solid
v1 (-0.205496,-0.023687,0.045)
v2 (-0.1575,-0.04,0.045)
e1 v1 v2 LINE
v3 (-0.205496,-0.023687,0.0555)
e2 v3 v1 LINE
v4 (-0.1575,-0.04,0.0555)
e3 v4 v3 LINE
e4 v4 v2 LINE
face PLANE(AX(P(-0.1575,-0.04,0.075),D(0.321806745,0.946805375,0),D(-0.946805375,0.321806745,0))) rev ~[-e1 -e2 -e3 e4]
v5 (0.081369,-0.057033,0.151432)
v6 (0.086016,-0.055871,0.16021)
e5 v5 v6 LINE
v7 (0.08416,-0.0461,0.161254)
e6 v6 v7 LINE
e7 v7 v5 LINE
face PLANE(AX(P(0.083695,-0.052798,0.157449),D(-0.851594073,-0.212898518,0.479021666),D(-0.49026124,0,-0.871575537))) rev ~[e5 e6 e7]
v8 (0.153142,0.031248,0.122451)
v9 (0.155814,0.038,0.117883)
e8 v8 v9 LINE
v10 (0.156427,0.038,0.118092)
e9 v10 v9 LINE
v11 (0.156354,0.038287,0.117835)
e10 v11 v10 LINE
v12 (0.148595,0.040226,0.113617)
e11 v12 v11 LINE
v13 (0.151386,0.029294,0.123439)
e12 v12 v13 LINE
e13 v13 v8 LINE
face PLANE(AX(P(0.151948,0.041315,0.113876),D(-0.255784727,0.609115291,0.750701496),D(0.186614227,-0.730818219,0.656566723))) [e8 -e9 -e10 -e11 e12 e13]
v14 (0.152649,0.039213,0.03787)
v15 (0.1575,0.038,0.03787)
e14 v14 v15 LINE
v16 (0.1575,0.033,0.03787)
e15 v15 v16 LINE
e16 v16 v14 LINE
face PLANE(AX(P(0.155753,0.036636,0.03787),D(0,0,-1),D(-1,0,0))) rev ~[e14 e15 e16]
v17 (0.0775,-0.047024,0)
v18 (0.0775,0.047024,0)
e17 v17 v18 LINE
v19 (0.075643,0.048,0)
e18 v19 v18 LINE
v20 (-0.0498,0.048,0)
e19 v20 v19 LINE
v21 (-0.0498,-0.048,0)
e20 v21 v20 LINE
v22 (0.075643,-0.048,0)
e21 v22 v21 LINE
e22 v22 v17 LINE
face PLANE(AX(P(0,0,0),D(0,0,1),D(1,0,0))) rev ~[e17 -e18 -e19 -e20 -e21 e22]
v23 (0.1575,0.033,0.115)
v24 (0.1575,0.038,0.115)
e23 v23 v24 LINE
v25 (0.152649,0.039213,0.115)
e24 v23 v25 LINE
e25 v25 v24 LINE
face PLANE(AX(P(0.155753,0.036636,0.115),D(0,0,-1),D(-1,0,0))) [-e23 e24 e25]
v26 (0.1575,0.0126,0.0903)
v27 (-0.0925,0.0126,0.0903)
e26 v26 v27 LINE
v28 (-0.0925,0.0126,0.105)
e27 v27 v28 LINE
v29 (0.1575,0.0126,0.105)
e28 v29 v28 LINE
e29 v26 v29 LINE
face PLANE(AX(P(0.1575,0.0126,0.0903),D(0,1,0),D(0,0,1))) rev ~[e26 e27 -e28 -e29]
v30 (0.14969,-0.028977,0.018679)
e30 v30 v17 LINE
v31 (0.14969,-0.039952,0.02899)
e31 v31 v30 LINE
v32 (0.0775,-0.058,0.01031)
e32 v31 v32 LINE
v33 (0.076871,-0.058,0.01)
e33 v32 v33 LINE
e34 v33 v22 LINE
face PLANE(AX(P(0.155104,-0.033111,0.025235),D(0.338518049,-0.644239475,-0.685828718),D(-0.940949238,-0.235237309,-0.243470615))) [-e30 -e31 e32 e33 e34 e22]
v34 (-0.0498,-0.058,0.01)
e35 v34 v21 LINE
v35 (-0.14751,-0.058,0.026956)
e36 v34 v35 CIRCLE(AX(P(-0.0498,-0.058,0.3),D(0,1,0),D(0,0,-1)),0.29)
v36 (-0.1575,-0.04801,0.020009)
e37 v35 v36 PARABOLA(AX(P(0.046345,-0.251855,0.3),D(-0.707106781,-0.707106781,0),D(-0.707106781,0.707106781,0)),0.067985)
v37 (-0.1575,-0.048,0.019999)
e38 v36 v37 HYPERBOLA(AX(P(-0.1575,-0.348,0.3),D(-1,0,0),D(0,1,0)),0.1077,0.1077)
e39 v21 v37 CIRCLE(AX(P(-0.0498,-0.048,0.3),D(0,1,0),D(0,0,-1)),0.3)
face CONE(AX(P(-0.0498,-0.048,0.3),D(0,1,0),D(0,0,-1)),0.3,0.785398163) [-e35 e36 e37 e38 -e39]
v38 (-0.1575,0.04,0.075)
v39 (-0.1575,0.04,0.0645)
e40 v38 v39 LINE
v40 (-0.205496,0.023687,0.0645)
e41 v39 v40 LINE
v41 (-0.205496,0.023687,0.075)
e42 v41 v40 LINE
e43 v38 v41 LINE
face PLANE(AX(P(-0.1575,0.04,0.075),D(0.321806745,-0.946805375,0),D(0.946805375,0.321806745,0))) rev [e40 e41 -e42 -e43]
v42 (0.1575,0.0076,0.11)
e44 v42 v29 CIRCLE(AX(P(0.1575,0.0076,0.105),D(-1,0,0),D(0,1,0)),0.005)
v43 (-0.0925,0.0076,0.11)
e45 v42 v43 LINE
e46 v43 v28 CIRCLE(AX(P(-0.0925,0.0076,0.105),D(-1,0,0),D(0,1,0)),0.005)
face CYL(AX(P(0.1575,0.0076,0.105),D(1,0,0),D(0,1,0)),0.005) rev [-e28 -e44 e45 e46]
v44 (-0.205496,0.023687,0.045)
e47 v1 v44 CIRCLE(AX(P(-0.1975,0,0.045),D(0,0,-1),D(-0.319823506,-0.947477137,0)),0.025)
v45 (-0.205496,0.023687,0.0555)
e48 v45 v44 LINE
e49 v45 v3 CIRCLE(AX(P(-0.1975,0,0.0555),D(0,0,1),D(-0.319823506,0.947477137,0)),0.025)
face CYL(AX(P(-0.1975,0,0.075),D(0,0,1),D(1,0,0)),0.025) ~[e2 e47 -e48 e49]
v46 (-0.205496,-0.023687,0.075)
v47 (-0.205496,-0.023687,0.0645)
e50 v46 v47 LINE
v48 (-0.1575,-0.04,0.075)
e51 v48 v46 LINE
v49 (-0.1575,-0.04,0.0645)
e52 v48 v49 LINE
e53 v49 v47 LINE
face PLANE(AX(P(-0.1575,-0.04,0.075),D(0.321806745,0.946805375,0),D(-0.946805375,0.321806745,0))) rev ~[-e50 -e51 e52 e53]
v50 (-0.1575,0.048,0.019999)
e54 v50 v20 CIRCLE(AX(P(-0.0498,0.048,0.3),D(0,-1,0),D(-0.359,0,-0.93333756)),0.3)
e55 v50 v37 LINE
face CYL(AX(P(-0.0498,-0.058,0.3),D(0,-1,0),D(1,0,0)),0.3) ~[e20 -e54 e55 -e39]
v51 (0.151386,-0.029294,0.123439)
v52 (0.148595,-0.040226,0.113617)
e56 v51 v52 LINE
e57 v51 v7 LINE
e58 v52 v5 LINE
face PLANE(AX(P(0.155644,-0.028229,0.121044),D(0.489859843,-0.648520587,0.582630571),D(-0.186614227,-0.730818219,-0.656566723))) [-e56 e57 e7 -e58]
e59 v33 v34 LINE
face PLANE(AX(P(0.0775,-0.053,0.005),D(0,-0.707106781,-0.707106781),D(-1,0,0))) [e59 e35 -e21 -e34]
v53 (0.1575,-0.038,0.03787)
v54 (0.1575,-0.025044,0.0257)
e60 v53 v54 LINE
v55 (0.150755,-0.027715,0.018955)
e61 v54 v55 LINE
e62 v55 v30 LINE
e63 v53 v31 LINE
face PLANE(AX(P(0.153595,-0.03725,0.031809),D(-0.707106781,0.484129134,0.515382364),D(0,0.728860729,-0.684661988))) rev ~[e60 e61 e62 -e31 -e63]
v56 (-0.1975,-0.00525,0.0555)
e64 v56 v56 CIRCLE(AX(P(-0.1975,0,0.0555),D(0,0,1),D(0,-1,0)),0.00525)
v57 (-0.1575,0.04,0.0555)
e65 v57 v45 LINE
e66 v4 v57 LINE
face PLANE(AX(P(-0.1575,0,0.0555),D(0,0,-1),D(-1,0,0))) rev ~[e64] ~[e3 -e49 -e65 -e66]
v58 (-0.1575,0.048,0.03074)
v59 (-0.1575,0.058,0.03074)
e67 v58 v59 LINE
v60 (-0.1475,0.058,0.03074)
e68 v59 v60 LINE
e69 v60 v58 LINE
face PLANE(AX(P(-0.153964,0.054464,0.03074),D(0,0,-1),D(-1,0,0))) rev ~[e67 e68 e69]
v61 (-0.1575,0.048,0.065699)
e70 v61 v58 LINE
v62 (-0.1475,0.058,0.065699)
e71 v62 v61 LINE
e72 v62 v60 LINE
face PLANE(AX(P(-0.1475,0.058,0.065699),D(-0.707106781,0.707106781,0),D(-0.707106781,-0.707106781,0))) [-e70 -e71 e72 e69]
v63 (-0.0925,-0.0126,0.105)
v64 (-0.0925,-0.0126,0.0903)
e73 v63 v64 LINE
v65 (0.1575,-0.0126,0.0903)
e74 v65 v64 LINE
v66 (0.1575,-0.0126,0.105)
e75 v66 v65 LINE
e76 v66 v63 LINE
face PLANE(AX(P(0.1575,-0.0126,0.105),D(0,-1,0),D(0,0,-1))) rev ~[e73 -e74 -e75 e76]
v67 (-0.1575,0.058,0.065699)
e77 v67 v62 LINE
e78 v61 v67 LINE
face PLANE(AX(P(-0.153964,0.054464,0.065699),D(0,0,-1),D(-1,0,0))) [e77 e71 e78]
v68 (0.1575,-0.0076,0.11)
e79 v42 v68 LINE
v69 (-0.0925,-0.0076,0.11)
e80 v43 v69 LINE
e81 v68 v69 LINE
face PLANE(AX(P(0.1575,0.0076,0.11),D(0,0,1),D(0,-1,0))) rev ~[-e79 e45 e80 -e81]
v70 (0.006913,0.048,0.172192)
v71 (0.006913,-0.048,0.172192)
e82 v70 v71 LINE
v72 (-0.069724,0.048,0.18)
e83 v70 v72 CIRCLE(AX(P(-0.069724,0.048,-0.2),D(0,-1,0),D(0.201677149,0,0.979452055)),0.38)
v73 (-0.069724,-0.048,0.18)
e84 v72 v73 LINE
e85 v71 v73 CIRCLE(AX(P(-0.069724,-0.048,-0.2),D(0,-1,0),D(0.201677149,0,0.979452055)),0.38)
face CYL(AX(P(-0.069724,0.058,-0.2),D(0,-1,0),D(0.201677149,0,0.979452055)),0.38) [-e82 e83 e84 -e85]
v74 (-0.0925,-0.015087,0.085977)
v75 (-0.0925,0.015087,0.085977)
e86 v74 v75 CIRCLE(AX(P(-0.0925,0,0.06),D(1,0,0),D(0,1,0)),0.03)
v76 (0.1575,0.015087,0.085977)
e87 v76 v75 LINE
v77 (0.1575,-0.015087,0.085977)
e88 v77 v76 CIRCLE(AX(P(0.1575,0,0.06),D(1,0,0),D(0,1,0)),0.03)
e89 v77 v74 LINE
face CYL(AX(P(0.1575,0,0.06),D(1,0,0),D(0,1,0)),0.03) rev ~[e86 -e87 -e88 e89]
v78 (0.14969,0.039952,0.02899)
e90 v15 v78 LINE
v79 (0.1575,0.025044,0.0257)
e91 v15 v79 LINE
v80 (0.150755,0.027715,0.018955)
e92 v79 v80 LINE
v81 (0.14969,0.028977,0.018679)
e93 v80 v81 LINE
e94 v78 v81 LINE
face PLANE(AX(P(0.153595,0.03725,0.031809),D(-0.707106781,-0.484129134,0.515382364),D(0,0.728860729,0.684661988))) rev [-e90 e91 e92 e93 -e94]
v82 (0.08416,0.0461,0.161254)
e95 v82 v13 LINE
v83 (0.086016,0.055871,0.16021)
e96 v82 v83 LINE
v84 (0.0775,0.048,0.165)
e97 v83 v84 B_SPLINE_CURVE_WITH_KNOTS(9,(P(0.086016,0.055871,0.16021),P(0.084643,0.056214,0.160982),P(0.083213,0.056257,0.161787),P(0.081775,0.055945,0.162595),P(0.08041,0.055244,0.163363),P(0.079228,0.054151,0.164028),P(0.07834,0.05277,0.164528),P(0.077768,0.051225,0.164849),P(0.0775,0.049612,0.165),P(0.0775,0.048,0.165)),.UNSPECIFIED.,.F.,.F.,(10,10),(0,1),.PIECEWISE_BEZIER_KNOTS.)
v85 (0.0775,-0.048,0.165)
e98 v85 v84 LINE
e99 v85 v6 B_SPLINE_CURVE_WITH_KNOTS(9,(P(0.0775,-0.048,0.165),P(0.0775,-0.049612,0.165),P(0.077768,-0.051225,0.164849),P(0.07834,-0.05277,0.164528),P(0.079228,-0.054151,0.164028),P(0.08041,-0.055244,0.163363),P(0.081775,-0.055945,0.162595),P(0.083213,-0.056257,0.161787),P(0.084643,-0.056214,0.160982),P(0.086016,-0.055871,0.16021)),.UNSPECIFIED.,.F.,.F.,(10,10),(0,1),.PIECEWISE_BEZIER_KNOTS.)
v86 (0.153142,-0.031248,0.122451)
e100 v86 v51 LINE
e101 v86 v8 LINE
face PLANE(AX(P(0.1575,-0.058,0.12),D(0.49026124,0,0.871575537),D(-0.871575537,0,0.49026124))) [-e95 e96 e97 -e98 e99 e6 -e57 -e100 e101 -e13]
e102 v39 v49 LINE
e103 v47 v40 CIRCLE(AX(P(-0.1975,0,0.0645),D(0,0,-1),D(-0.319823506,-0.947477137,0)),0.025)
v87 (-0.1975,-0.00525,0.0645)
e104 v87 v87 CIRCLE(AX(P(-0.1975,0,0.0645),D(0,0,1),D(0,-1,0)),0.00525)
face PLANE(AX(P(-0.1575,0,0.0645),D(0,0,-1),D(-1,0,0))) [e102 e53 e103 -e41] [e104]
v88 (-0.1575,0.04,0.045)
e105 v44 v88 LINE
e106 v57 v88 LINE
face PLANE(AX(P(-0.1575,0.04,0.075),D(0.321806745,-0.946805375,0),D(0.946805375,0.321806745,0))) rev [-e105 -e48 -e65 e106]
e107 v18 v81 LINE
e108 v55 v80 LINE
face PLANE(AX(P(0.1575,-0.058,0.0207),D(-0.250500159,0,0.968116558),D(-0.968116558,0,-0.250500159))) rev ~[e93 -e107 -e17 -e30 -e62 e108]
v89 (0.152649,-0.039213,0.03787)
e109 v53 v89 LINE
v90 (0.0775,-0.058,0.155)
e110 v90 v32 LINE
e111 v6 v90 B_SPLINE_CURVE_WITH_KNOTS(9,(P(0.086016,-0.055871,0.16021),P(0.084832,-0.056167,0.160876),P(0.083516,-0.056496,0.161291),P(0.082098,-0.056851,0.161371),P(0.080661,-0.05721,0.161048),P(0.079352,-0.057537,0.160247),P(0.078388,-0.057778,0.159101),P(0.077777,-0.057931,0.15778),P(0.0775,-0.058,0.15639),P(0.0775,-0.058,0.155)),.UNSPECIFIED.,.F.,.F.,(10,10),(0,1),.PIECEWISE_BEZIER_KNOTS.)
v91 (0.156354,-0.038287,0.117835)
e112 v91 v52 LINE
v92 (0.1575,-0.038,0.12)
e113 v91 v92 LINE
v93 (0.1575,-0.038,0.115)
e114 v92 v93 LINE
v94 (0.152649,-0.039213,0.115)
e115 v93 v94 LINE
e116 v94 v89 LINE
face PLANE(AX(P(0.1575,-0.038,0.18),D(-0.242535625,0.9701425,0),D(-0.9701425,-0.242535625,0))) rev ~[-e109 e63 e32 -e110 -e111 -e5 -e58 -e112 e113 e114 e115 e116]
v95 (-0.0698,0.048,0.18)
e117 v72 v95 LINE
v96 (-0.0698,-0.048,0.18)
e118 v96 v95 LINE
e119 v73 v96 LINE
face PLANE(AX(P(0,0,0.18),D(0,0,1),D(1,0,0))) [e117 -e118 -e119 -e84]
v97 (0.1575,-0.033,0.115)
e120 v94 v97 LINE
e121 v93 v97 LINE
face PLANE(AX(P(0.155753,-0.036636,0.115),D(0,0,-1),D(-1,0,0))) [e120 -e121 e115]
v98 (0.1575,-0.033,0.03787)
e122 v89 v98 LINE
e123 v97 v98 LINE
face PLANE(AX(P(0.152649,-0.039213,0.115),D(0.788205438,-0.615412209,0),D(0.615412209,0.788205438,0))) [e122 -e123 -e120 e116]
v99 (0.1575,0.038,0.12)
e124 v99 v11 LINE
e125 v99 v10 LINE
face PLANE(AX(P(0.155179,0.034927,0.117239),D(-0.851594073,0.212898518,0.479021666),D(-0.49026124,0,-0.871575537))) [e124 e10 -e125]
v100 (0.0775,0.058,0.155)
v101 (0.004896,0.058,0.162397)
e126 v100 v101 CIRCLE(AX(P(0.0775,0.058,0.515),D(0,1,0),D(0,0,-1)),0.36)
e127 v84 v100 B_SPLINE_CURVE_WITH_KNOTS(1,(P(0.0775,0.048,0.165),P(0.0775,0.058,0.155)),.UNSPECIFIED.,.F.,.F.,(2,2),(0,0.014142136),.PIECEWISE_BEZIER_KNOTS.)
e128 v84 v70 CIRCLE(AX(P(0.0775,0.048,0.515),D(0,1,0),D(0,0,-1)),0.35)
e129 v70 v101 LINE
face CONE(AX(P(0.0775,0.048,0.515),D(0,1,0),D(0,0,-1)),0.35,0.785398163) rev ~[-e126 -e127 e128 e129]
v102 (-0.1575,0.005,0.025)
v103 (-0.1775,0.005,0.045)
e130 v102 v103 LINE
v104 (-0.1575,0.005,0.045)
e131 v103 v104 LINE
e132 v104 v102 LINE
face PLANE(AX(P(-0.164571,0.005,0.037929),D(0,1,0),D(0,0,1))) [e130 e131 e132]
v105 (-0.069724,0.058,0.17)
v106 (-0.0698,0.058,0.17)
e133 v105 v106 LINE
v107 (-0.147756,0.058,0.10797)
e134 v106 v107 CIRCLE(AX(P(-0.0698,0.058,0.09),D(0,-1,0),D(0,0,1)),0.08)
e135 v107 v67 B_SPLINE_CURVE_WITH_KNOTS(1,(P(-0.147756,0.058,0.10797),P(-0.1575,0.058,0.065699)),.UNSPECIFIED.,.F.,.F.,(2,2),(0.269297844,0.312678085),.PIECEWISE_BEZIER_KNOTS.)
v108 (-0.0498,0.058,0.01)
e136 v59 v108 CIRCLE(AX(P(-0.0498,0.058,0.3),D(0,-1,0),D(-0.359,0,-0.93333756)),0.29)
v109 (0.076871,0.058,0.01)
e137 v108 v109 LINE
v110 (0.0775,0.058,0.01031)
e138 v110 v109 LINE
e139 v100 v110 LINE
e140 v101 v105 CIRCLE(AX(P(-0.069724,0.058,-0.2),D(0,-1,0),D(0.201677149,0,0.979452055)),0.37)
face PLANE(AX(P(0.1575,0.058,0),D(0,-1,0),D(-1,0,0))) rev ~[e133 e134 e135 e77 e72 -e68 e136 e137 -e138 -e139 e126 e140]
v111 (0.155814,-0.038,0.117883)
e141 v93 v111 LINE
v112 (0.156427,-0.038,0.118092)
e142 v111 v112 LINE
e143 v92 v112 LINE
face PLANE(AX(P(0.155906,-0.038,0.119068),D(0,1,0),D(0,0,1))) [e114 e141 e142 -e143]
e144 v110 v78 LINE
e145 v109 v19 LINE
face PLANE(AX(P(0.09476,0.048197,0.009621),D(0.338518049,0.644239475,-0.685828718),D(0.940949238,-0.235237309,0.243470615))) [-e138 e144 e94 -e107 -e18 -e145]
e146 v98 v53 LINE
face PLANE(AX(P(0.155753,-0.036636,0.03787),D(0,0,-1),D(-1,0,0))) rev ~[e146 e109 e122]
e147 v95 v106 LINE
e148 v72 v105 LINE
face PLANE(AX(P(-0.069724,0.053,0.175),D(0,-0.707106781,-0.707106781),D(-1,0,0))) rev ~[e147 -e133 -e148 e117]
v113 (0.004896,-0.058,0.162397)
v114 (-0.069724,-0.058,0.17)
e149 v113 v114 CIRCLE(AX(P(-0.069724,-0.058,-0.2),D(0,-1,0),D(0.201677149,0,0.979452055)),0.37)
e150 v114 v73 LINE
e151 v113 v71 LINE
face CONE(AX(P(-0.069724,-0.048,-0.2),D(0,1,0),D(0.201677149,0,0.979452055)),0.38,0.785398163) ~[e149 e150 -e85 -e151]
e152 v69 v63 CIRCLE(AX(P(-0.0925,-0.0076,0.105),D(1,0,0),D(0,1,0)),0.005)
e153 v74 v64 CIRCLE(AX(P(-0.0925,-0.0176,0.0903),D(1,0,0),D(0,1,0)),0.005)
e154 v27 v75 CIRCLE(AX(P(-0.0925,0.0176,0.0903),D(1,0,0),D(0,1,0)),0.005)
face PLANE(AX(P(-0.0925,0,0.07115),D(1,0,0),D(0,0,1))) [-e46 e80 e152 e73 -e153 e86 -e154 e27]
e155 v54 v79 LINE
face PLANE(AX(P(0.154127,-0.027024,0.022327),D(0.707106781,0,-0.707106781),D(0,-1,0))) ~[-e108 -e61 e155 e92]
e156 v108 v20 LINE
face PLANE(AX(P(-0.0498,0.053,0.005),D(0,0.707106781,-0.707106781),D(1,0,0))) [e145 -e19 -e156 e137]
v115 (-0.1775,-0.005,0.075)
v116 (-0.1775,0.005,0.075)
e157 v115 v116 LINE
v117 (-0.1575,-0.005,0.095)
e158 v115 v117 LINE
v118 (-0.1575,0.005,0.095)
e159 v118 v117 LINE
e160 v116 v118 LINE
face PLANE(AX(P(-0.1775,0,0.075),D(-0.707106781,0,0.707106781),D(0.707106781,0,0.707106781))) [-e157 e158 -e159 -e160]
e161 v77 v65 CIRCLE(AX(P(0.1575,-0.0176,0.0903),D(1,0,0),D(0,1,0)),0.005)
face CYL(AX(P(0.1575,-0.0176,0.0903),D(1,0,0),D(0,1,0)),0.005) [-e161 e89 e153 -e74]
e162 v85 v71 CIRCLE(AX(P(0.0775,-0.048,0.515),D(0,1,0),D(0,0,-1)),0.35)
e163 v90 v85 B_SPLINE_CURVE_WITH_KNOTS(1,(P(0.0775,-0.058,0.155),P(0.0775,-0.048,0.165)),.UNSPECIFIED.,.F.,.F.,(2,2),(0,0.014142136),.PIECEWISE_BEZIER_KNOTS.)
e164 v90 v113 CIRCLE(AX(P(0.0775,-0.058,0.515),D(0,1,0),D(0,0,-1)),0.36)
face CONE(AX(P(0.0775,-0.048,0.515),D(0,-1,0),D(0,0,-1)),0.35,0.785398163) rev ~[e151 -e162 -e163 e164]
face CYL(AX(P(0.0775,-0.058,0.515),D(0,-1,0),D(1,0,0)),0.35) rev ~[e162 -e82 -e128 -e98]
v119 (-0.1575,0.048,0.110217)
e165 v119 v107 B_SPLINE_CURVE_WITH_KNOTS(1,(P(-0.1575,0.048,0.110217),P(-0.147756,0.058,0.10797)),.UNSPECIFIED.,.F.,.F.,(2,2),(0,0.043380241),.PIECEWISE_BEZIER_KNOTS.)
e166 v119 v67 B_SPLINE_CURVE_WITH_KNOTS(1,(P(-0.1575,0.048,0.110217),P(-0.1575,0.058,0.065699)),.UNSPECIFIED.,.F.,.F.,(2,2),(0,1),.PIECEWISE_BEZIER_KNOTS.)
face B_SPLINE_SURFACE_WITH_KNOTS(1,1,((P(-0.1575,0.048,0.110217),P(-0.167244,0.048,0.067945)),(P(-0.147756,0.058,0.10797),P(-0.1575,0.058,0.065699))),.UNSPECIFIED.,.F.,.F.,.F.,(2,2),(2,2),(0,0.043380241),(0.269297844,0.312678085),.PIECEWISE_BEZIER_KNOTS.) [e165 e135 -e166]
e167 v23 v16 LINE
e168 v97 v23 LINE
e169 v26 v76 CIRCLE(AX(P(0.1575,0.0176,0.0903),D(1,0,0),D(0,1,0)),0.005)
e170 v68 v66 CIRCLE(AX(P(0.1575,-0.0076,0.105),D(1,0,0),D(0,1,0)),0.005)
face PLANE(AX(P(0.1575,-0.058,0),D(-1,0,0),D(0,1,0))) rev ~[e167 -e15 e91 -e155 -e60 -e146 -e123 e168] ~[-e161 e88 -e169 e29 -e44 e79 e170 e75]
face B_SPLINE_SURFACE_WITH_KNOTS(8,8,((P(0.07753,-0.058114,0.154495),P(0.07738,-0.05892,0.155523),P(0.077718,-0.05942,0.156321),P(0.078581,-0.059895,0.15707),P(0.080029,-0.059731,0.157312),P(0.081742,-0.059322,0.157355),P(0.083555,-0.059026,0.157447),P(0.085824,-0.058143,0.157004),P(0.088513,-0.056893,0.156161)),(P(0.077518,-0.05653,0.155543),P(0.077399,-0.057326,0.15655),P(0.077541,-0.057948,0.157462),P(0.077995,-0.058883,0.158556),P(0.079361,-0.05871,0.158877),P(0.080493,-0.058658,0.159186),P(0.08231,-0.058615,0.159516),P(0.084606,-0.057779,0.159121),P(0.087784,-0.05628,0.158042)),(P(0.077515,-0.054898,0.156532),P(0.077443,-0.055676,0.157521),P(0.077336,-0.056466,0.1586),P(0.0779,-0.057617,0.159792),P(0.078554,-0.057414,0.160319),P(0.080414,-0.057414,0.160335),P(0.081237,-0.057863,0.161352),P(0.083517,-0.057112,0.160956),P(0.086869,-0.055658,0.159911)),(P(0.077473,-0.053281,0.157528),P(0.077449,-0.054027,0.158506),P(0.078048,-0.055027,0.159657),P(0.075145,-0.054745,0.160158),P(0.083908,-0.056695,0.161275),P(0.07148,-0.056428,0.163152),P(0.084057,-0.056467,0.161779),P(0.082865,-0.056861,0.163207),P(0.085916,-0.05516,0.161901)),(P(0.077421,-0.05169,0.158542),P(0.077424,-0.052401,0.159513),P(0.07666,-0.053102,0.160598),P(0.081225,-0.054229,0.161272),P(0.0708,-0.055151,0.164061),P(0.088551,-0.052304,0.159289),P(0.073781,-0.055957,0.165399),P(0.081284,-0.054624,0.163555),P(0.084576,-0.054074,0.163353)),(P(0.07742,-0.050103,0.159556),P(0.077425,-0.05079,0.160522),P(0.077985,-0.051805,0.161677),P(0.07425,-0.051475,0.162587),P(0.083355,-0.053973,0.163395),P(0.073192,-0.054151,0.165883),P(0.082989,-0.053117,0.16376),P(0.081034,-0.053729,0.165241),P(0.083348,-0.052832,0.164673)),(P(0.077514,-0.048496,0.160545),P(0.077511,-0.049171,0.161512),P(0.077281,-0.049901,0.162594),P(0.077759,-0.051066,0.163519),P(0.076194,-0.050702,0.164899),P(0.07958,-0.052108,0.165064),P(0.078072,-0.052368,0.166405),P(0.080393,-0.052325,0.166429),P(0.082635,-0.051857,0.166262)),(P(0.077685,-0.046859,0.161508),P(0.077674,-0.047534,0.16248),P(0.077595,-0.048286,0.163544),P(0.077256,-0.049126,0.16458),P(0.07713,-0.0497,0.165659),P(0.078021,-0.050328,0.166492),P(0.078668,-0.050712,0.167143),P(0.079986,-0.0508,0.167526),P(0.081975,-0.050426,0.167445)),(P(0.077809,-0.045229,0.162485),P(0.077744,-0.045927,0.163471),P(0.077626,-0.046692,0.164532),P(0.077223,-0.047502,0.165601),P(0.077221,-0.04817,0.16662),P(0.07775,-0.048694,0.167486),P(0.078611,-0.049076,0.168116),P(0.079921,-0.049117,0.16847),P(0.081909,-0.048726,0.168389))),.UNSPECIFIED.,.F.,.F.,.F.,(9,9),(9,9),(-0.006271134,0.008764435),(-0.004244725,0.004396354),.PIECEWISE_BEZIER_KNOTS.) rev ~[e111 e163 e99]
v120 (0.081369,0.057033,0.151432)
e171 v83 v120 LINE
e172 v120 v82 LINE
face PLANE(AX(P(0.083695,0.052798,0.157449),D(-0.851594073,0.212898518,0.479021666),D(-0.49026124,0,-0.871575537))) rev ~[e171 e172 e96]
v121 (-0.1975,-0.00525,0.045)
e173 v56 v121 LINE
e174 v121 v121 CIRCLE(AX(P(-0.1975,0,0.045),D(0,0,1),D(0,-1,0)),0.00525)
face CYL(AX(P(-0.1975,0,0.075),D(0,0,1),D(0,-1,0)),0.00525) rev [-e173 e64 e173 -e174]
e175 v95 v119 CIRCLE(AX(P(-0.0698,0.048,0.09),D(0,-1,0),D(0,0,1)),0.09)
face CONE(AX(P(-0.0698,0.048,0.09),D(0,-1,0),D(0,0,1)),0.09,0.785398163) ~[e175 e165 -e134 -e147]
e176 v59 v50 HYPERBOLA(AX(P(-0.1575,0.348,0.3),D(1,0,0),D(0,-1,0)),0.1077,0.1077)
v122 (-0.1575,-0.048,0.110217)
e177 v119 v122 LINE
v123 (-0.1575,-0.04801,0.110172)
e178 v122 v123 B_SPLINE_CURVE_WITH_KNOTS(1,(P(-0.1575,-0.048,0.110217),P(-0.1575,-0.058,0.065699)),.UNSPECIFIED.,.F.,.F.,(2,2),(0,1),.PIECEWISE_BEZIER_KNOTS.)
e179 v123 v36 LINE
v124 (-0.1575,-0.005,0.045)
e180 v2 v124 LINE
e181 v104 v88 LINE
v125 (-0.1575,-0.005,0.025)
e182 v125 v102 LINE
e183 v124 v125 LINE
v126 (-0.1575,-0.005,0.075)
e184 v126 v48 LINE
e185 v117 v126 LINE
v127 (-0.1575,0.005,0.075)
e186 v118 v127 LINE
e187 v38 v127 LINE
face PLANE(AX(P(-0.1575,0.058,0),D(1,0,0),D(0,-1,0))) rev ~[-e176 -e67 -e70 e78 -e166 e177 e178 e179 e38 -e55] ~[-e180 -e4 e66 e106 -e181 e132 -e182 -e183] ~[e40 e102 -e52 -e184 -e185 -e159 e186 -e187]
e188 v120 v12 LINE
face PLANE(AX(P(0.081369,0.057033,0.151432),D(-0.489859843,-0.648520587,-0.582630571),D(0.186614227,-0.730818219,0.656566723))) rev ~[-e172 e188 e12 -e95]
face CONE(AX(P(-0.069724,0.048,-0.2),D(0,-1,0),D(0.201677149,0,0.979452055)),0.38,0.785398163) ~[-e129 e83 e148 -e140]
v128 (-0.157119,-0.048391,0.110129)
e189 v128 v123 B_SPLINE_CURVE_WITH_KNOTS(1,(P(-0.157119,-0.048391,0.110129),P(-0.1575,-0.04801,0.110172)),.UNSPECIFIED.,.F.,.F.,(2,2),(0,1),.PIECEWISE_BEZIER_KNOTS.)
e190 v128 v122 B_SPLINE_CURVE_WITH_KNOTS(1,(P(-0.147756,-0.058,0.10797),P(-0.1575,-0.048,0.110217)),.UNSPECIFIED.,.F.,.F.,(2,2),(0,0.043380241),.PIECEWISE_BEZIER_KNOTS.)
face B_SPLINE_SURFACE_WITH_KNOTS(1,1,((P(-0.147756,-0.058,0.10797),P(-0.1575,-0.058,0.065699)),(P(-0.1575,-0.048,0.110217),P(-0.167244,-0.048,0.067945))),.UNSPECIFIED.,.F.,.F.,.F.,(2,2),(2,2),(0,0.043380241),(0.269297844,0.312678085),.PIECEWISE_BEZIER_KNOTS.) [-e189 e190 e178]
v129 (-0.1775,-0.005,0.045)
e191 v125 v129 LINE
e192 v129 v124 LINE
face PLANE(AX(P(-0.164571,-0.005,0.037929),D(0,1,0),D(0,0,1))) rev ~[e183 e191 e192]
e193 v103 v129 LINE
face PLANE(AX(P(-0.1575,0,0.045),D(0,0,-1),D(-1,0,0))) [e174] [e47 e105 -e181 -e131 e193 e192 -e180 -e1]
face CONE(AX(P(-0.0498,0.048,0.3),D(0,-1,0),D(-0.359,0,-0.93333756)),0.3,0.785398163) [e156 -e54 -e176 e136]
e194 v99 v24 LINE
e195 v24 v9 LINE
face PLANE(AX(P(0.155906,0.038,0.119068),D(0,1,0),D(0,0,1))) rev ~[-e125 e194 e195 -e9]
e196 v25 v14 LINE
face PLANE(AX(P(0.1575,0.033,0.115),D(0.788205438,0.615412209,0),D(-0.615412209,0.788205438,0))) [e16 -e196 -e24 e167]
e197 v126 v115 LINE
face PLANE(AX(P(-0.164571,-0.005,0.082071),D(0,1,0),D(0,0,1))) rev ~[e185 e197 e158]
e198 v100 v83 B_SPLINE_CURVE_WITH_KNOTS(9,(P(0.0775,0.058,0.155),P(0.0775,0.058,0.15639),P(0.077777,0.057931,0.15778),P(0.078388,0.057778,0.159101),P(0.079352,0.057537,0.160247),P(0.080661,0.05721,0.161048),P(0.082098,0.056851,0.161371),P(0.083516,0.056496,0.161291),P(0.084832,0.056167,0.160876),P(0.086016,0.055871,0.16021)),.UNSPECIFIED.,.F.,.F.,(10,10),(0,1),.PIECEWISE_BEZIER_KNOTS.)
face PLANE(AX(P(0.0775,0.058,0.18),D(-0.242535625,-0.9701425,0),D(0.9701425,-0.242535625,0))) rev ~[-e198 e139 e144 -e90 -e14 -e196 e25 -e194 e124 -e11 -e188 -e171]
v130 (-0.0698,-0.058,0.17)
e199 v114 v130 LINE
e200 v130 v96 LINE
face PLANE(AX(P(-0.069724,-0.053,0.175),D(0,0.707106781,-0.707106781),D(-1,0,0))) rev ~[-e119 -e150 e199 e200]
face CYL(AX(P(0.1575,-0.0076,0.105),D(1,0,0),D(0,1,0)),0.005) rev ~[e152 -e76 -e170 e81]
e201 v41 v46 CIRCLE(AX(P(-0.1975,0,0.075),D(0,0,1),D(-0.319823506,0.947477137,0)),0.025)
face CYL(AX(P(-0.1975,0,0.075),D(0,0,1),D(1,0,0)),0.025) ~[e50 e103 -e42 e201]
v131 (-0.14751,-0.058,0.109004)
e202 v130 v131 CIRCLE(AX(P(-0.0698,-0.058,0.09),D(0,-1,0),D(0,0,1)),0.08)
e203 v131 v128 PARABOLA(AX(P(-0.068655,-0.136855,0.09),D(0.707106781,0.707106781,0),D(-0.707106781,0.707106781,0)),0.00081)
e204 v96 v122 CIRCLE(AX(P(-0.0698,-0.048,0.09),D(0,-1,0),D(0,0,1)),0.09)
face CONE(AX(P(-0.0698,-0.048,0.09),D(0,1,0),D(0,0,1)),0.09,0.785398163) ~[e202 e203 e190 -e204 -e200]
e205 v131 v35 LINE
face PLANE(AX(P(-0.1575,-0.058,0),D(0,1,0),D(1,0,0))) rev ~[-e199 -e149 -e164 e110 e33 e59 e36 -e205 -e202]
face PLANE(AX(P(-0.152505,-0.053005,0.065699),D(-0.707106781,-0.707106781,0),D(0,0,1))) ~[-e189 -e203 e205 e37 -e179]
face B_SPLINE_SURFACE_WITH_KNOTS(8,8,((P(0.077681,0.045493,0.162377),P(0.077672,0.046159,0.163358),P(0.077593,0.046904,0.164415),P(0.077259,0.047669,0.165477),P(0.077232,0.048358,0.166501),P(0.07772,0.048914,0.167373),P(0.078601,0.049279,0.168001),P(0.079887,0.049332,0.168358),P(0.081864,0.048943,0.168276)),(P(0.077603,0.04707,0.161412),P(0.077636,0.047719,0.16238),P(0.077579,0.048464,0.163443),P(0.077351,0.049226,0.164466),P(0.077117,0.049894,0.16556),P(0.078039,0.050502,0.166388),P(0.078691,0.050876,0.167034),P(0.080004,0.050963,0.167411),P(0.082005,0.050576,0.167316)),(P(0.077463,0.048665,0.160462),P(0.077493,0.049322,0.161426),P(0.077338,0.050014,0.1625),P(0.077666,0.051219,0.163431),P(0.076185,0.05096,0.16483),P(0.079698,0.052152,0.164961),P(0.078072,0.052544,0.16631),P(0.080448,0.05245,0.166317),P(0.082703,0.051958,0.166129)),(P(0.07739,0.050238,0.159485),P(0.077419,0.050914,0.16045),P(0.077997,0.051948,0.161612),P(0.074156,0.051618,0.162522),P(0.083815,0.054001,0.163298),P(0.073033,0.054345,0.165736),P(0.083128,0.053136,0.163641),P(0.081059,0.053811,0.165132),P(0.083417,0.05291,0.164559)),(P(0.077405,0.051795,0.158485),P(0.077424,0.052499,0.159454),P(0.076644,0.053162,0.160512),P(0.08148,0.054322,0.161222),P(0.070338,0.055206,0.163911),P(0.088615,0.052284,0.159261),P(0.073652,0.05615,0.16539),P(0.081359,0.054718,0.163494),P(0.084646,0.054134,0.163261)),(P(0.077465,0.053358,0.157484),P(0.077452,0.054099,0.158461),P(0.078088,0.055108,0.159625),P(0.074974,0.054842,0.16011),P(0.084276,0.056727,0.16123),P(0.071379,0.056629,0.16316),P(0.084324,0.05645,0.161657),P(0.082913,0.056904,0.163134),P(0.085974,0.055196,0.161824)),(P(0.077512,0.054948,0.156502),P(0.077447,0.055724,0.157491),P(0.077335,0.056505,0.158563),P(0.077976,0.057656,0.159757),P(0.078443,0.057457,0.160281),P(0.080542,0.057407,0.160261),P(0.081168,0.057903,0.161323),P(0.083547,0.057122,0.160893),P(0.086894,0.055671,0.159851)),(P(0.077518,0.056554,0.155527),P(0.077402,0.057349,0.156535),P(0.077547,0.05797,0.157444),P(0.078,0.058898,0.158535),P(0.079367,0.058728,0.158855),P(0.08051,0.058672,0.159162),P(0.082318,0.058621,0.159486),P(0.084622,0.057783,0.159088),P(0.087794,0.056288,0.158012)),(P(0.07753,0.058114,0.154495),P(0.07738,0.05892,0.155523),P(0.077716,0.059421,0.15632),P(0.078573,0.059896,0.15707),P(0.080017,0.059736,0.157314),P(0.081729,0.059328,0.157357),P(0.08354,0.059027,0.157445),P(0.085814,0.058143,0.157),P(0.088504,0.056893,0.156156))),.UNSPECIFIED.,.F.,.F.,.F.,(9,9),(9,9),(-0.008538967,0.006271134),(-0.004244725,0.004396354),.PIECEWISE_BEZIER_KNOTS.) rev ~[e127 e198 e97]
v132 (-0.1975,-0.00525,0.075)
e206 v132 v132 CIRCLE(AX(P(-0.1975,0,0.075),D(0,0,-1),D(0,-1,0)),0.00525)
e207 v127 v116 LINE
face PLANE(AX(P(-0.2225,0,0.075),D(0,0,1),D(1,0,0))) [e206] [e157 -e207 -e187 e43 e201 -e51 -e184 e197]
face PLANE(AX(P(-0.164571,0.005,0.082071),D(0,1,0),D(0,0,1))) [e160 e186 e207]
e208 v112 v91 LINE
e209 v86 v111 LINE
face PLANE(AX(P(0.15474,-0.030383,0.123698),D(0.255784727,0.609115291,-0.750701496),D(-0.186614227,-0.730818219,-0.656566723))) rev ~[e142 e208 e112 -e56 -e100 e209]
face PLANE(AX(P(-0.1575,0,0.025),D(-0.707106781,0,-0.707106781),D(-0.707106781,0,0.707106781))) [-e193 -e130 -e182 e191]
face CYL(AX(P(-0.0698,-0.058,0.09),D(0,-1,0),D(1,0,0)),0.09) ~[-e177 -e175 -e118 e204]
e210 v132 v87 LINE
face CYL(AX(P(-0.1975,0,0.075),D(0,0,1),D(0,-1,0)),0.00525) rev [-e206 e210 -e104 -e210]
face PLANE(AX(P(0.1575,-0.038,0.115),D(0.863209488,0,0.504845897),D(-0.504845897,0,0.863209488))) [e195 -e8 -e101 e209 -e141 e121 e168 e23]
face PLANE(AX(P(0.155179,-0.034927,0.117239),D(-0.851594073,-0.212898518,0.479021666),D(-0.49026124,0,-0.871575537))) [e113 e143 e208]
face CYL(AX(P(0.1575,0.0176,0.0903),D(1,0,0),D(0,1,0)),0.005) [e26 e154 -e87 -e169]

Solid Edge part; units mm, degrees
sketch "Sketch1" plane through (0, 0, 0) normal (0, 0, 1) x (1, 0, 0)
  line L0 (-0.1575, -0.058) -> (0.1575, -0.058)
  line L1 (0.1575, -0.058) -> (0.1575, 0.058)
  line L2 (0.1575, 0.058) -> (-0.1575, 0.058)
  line L3 (-0.1575, 0.058) -> (-0.1575, -0.058)
  dimension "D1" = 0.116
  dimension "D2" = 0.315
extrude "Protrusion1" add sketch "Sketch1" along normal blind 0.18
sketch "Sketch2" plane through (0.1575, 0, 0.09) normal (1, 0, 0) x (0, 1, 0)
  line L0 (0.0126, 0.0003) -> (0.0126, 0.015)
  arc A0 (0.0076, 0.02) -> (0.0126, 0.015) centre (0.0076, 0.015) cw
  line L1 (0.0076, 0.02) -> (-0.0076, 0.02)
  arc A1 (-0.0076, 0.02) -> (-0.0126, 0.015) centre (-0.0076, 0.015) ccw
  line L2 (-0.0126, 0.015) -> (-0.0126, 0.0003)
  arc A2 (-0.0151, -0.004) -> (-0.0126, 0.0003) centre (-0.0176, 0.0003) ccw
  arc A3 (0.0126, 0.0003) -> (0.0151, -0.004) centre (0.0176, 0.0003) ccw
  arc A4 (-0.0151, -0.004) -> (0.0151, -0.004) centre (0, -0.03) ccw
extrude "Ausschnitt_1" cut sketch "Sketch2" against normal blind 0.25
sketch "Sketch3" plane through (0, 0, 0) normal (0, -1, 0) x (1, 0, 0)
  line L0 (-0.1575, 0.075) -> (-0.1575, 0.045)
  line L1 (-0.1575, 0.045) -> (-0.2225, 0.045)
  line L2 (-0.2225, 0.045) -> (-0.2225, 0.075)
  line L3 (-0.2225, 0.075) -> (-0.1575, 0.075)
  dimension "D1" = 0.06
  dimension "D2" = 0.03
  dimension "D3" = 0.065
extrude "Ausprägung_2" add sketch "Sketch3" along normal mid plane 0.08
sketch "Sketch4" plane through (-0.19, 0, 0.075) normal (0, 0, 1) x (1, 0, 0)
  line L0 (0.0325, -0.04) -> (-0.0325, -0.04)
  line L1 (-0.0325, -0.04) -> (-0.0325, 0)
  line L2 (0.0325, -0.04) -> (-0.0155, -0.0237)
  arc A0 (-0.0325, 0) -> (-0.0155, -0.0237) centre (-0.0075, 0) ccw
extrude "Cutout1" cut sketch "Sketch4" against normal through all
mirror "Mirror1" about plane through (0, 0, 0) normal (0, -1, 0) of "Cutout1"
hole "Bohrung_1" at (-0.1975, 0, 0.075) direction (0, 0, -1) diameter 0.0105 end through all
sketch "Sketch5" plane through (0, 0, 0) normal (0, -1, 0) x (1, 0, 0)
  line L0 (-0.1575, 0.0645) -> (-0.1575, 0.0555)
  line L1 (-0.1575, 0.0555) -> (-0.2225, 0.0555)
  line L2 (-0.2225, 0.0645) -> (-0.2225, 0.0555)
  line L3 (-0.1575, 0.0645) -> (-0.2225, 0.0645)
  dimension "D1" = 0.015
  dimension "D2" = 0.009
extrude "Cutout3" cut sketch "Sketch5" along normal through all and the other way through all
sketch "Sketch6" plane through (0, 0, 0) normal (0, -1, 0) x (1, 0, 0)
  line L0 (-0.1575, 0.075) -> (-0.1775, 0.075)
  line L1 (-0.1775, 0.075) -> (-0.1575, 0.095)
  line L2 (-0.1575, 0.095) -> (-0.1575, 0.075)
  line L3 (-0.1575, 0.045) -> (-0.1575, 0.025)
  line L4 (-0.1575, 0.025) -> (-0.1775, 0.045)
  line L5 (-0.1775, 0.045) -> (-0.1575, 0.045)
  dimension "D1" = 0.02
extrude "Ausprägung_3" add sketch "Sketch6" along normal mid plane 0.01
sketch "Sketch7" plane through (0, -0.058, 0.09) normal (0, -1, 0) x (1, 0, 0)
  line L0 (-0.1575, -0.07) -> (-0.1575, -0.09)
  line L1 (-0.1575, -0.09) -> (-0.0498, -0.09)
  arc A0 (-0.0498, -0.09) -> (-0.1575, -0.07) centre (-0.0498, 0.21) cw
  line L2 (-0.1575, 0.09) -> (-0.1575, 0.02)
  arc A1 (-0.1575, 0.02) -> (-0.0698, 0.09) centre (-0.0698, 0) cw
  line L3 (-0.0698, 0.09) -> (-0.1575, 0.09)
  dimension "D1" = 0.1575
  dimension "D2" = 0.1575
extrude "Cutout4" cut sketch "Sketch7" against normal through all
sketch "Sketch8" plane through (0, -0.058, 0.09) normal (0, -1, 0) x (1, 0, 0)
  line L0 (0.1575, -0.0693) -> (0.0775, -0.09)
  line L1 (0.1575, -0.09) -> (0.0775, -0.09)
  line L2 (0.1575, -0.0693) -> (0.1575, -0.09)
  line L3 (0.1575, 0.09) -> (-0.0239, 0.09)
  arc A0 (-0.0239, 0.09) -> (0.0775, 0.075) centre (0.0775, 0.425) ccw
  line L4 (0.1575, 0.03) -> (0.0775, 0.075)
  line L5 (0.1575, 0.09) -> (0.1575, 0.03)
  dimension "D1" = 0.1575
extrude "Cutout5" cut sketch "Sketch8" against normal through all
fillet "Round1" radius 0.38 1 edges at (-0.0239, 0, 0.18)
sketch "Sketch9" plane through (-0.0011, 0, 0.18) normal (0, 0, 1) x (1, 0, 0)
  line L0 (0.1586, -0.038) -> (0.0786, -0.058)
  line L1 (0.1586, -0.058) -> (0.0786, -0.058)
  line L2 (0.1586, -0.038) -> (0.1586, -0.058)
  line L3 (0.0786, 0.058) -> (0.1586, 0.038)
  line L4 (0.1586, 0.058) -> (0.1586, 0.038)
  line L5 (0.1586, 0.058) -> (0.0786, 0.058)
  dimension "D1" = 0.02
extrude "Cutout6" cut sketch "Sketch9" against normal through all
chamfer "Fase_1" distance 0.01 angle 45 18 edges at (-0.0312, -0.058, 0.178) (-0.0697, -0.058, 0.18) (-0.1259, -0.058, 0.1604) (0.042, -0.058, 0.1668) (0.1175, -0.048, 0.1425) (-0.1575, -0.058, 0.065) (-0.1046, -0.058, 0.005) (0.0139, -0.058, 0) (0.1175, -0.048, 0.0104) (-0.1259, 0.058, 0.1604) (-0.0697, 0.058, 0.18) (-0.0312, 0.058, 0.178) (0.042, 0.058, 0.1668) (-0.1575, 0.058, 0.065) (-0.1046, 0.058, 0.005) (0.0139, 0.058, 0) (0.1175, 0.048, 0.1425) (0.1175, 0.048, 0.0104)
chamfer "Fase_2" distance 0.005 angle 45 8 edges at (0.1575, 0, 0.12) (0.1575, 0.0329, 0.1143) (0.1575, 0.038, 0.0698) (0.1575, 0.0329, 0.0259) (0.1575, 0, 0.0207) (0.1575, -0.0329, 0.0259) (0.1575, -0.038, 0.0698) (0.1575, -0.0329, 0.1143)
